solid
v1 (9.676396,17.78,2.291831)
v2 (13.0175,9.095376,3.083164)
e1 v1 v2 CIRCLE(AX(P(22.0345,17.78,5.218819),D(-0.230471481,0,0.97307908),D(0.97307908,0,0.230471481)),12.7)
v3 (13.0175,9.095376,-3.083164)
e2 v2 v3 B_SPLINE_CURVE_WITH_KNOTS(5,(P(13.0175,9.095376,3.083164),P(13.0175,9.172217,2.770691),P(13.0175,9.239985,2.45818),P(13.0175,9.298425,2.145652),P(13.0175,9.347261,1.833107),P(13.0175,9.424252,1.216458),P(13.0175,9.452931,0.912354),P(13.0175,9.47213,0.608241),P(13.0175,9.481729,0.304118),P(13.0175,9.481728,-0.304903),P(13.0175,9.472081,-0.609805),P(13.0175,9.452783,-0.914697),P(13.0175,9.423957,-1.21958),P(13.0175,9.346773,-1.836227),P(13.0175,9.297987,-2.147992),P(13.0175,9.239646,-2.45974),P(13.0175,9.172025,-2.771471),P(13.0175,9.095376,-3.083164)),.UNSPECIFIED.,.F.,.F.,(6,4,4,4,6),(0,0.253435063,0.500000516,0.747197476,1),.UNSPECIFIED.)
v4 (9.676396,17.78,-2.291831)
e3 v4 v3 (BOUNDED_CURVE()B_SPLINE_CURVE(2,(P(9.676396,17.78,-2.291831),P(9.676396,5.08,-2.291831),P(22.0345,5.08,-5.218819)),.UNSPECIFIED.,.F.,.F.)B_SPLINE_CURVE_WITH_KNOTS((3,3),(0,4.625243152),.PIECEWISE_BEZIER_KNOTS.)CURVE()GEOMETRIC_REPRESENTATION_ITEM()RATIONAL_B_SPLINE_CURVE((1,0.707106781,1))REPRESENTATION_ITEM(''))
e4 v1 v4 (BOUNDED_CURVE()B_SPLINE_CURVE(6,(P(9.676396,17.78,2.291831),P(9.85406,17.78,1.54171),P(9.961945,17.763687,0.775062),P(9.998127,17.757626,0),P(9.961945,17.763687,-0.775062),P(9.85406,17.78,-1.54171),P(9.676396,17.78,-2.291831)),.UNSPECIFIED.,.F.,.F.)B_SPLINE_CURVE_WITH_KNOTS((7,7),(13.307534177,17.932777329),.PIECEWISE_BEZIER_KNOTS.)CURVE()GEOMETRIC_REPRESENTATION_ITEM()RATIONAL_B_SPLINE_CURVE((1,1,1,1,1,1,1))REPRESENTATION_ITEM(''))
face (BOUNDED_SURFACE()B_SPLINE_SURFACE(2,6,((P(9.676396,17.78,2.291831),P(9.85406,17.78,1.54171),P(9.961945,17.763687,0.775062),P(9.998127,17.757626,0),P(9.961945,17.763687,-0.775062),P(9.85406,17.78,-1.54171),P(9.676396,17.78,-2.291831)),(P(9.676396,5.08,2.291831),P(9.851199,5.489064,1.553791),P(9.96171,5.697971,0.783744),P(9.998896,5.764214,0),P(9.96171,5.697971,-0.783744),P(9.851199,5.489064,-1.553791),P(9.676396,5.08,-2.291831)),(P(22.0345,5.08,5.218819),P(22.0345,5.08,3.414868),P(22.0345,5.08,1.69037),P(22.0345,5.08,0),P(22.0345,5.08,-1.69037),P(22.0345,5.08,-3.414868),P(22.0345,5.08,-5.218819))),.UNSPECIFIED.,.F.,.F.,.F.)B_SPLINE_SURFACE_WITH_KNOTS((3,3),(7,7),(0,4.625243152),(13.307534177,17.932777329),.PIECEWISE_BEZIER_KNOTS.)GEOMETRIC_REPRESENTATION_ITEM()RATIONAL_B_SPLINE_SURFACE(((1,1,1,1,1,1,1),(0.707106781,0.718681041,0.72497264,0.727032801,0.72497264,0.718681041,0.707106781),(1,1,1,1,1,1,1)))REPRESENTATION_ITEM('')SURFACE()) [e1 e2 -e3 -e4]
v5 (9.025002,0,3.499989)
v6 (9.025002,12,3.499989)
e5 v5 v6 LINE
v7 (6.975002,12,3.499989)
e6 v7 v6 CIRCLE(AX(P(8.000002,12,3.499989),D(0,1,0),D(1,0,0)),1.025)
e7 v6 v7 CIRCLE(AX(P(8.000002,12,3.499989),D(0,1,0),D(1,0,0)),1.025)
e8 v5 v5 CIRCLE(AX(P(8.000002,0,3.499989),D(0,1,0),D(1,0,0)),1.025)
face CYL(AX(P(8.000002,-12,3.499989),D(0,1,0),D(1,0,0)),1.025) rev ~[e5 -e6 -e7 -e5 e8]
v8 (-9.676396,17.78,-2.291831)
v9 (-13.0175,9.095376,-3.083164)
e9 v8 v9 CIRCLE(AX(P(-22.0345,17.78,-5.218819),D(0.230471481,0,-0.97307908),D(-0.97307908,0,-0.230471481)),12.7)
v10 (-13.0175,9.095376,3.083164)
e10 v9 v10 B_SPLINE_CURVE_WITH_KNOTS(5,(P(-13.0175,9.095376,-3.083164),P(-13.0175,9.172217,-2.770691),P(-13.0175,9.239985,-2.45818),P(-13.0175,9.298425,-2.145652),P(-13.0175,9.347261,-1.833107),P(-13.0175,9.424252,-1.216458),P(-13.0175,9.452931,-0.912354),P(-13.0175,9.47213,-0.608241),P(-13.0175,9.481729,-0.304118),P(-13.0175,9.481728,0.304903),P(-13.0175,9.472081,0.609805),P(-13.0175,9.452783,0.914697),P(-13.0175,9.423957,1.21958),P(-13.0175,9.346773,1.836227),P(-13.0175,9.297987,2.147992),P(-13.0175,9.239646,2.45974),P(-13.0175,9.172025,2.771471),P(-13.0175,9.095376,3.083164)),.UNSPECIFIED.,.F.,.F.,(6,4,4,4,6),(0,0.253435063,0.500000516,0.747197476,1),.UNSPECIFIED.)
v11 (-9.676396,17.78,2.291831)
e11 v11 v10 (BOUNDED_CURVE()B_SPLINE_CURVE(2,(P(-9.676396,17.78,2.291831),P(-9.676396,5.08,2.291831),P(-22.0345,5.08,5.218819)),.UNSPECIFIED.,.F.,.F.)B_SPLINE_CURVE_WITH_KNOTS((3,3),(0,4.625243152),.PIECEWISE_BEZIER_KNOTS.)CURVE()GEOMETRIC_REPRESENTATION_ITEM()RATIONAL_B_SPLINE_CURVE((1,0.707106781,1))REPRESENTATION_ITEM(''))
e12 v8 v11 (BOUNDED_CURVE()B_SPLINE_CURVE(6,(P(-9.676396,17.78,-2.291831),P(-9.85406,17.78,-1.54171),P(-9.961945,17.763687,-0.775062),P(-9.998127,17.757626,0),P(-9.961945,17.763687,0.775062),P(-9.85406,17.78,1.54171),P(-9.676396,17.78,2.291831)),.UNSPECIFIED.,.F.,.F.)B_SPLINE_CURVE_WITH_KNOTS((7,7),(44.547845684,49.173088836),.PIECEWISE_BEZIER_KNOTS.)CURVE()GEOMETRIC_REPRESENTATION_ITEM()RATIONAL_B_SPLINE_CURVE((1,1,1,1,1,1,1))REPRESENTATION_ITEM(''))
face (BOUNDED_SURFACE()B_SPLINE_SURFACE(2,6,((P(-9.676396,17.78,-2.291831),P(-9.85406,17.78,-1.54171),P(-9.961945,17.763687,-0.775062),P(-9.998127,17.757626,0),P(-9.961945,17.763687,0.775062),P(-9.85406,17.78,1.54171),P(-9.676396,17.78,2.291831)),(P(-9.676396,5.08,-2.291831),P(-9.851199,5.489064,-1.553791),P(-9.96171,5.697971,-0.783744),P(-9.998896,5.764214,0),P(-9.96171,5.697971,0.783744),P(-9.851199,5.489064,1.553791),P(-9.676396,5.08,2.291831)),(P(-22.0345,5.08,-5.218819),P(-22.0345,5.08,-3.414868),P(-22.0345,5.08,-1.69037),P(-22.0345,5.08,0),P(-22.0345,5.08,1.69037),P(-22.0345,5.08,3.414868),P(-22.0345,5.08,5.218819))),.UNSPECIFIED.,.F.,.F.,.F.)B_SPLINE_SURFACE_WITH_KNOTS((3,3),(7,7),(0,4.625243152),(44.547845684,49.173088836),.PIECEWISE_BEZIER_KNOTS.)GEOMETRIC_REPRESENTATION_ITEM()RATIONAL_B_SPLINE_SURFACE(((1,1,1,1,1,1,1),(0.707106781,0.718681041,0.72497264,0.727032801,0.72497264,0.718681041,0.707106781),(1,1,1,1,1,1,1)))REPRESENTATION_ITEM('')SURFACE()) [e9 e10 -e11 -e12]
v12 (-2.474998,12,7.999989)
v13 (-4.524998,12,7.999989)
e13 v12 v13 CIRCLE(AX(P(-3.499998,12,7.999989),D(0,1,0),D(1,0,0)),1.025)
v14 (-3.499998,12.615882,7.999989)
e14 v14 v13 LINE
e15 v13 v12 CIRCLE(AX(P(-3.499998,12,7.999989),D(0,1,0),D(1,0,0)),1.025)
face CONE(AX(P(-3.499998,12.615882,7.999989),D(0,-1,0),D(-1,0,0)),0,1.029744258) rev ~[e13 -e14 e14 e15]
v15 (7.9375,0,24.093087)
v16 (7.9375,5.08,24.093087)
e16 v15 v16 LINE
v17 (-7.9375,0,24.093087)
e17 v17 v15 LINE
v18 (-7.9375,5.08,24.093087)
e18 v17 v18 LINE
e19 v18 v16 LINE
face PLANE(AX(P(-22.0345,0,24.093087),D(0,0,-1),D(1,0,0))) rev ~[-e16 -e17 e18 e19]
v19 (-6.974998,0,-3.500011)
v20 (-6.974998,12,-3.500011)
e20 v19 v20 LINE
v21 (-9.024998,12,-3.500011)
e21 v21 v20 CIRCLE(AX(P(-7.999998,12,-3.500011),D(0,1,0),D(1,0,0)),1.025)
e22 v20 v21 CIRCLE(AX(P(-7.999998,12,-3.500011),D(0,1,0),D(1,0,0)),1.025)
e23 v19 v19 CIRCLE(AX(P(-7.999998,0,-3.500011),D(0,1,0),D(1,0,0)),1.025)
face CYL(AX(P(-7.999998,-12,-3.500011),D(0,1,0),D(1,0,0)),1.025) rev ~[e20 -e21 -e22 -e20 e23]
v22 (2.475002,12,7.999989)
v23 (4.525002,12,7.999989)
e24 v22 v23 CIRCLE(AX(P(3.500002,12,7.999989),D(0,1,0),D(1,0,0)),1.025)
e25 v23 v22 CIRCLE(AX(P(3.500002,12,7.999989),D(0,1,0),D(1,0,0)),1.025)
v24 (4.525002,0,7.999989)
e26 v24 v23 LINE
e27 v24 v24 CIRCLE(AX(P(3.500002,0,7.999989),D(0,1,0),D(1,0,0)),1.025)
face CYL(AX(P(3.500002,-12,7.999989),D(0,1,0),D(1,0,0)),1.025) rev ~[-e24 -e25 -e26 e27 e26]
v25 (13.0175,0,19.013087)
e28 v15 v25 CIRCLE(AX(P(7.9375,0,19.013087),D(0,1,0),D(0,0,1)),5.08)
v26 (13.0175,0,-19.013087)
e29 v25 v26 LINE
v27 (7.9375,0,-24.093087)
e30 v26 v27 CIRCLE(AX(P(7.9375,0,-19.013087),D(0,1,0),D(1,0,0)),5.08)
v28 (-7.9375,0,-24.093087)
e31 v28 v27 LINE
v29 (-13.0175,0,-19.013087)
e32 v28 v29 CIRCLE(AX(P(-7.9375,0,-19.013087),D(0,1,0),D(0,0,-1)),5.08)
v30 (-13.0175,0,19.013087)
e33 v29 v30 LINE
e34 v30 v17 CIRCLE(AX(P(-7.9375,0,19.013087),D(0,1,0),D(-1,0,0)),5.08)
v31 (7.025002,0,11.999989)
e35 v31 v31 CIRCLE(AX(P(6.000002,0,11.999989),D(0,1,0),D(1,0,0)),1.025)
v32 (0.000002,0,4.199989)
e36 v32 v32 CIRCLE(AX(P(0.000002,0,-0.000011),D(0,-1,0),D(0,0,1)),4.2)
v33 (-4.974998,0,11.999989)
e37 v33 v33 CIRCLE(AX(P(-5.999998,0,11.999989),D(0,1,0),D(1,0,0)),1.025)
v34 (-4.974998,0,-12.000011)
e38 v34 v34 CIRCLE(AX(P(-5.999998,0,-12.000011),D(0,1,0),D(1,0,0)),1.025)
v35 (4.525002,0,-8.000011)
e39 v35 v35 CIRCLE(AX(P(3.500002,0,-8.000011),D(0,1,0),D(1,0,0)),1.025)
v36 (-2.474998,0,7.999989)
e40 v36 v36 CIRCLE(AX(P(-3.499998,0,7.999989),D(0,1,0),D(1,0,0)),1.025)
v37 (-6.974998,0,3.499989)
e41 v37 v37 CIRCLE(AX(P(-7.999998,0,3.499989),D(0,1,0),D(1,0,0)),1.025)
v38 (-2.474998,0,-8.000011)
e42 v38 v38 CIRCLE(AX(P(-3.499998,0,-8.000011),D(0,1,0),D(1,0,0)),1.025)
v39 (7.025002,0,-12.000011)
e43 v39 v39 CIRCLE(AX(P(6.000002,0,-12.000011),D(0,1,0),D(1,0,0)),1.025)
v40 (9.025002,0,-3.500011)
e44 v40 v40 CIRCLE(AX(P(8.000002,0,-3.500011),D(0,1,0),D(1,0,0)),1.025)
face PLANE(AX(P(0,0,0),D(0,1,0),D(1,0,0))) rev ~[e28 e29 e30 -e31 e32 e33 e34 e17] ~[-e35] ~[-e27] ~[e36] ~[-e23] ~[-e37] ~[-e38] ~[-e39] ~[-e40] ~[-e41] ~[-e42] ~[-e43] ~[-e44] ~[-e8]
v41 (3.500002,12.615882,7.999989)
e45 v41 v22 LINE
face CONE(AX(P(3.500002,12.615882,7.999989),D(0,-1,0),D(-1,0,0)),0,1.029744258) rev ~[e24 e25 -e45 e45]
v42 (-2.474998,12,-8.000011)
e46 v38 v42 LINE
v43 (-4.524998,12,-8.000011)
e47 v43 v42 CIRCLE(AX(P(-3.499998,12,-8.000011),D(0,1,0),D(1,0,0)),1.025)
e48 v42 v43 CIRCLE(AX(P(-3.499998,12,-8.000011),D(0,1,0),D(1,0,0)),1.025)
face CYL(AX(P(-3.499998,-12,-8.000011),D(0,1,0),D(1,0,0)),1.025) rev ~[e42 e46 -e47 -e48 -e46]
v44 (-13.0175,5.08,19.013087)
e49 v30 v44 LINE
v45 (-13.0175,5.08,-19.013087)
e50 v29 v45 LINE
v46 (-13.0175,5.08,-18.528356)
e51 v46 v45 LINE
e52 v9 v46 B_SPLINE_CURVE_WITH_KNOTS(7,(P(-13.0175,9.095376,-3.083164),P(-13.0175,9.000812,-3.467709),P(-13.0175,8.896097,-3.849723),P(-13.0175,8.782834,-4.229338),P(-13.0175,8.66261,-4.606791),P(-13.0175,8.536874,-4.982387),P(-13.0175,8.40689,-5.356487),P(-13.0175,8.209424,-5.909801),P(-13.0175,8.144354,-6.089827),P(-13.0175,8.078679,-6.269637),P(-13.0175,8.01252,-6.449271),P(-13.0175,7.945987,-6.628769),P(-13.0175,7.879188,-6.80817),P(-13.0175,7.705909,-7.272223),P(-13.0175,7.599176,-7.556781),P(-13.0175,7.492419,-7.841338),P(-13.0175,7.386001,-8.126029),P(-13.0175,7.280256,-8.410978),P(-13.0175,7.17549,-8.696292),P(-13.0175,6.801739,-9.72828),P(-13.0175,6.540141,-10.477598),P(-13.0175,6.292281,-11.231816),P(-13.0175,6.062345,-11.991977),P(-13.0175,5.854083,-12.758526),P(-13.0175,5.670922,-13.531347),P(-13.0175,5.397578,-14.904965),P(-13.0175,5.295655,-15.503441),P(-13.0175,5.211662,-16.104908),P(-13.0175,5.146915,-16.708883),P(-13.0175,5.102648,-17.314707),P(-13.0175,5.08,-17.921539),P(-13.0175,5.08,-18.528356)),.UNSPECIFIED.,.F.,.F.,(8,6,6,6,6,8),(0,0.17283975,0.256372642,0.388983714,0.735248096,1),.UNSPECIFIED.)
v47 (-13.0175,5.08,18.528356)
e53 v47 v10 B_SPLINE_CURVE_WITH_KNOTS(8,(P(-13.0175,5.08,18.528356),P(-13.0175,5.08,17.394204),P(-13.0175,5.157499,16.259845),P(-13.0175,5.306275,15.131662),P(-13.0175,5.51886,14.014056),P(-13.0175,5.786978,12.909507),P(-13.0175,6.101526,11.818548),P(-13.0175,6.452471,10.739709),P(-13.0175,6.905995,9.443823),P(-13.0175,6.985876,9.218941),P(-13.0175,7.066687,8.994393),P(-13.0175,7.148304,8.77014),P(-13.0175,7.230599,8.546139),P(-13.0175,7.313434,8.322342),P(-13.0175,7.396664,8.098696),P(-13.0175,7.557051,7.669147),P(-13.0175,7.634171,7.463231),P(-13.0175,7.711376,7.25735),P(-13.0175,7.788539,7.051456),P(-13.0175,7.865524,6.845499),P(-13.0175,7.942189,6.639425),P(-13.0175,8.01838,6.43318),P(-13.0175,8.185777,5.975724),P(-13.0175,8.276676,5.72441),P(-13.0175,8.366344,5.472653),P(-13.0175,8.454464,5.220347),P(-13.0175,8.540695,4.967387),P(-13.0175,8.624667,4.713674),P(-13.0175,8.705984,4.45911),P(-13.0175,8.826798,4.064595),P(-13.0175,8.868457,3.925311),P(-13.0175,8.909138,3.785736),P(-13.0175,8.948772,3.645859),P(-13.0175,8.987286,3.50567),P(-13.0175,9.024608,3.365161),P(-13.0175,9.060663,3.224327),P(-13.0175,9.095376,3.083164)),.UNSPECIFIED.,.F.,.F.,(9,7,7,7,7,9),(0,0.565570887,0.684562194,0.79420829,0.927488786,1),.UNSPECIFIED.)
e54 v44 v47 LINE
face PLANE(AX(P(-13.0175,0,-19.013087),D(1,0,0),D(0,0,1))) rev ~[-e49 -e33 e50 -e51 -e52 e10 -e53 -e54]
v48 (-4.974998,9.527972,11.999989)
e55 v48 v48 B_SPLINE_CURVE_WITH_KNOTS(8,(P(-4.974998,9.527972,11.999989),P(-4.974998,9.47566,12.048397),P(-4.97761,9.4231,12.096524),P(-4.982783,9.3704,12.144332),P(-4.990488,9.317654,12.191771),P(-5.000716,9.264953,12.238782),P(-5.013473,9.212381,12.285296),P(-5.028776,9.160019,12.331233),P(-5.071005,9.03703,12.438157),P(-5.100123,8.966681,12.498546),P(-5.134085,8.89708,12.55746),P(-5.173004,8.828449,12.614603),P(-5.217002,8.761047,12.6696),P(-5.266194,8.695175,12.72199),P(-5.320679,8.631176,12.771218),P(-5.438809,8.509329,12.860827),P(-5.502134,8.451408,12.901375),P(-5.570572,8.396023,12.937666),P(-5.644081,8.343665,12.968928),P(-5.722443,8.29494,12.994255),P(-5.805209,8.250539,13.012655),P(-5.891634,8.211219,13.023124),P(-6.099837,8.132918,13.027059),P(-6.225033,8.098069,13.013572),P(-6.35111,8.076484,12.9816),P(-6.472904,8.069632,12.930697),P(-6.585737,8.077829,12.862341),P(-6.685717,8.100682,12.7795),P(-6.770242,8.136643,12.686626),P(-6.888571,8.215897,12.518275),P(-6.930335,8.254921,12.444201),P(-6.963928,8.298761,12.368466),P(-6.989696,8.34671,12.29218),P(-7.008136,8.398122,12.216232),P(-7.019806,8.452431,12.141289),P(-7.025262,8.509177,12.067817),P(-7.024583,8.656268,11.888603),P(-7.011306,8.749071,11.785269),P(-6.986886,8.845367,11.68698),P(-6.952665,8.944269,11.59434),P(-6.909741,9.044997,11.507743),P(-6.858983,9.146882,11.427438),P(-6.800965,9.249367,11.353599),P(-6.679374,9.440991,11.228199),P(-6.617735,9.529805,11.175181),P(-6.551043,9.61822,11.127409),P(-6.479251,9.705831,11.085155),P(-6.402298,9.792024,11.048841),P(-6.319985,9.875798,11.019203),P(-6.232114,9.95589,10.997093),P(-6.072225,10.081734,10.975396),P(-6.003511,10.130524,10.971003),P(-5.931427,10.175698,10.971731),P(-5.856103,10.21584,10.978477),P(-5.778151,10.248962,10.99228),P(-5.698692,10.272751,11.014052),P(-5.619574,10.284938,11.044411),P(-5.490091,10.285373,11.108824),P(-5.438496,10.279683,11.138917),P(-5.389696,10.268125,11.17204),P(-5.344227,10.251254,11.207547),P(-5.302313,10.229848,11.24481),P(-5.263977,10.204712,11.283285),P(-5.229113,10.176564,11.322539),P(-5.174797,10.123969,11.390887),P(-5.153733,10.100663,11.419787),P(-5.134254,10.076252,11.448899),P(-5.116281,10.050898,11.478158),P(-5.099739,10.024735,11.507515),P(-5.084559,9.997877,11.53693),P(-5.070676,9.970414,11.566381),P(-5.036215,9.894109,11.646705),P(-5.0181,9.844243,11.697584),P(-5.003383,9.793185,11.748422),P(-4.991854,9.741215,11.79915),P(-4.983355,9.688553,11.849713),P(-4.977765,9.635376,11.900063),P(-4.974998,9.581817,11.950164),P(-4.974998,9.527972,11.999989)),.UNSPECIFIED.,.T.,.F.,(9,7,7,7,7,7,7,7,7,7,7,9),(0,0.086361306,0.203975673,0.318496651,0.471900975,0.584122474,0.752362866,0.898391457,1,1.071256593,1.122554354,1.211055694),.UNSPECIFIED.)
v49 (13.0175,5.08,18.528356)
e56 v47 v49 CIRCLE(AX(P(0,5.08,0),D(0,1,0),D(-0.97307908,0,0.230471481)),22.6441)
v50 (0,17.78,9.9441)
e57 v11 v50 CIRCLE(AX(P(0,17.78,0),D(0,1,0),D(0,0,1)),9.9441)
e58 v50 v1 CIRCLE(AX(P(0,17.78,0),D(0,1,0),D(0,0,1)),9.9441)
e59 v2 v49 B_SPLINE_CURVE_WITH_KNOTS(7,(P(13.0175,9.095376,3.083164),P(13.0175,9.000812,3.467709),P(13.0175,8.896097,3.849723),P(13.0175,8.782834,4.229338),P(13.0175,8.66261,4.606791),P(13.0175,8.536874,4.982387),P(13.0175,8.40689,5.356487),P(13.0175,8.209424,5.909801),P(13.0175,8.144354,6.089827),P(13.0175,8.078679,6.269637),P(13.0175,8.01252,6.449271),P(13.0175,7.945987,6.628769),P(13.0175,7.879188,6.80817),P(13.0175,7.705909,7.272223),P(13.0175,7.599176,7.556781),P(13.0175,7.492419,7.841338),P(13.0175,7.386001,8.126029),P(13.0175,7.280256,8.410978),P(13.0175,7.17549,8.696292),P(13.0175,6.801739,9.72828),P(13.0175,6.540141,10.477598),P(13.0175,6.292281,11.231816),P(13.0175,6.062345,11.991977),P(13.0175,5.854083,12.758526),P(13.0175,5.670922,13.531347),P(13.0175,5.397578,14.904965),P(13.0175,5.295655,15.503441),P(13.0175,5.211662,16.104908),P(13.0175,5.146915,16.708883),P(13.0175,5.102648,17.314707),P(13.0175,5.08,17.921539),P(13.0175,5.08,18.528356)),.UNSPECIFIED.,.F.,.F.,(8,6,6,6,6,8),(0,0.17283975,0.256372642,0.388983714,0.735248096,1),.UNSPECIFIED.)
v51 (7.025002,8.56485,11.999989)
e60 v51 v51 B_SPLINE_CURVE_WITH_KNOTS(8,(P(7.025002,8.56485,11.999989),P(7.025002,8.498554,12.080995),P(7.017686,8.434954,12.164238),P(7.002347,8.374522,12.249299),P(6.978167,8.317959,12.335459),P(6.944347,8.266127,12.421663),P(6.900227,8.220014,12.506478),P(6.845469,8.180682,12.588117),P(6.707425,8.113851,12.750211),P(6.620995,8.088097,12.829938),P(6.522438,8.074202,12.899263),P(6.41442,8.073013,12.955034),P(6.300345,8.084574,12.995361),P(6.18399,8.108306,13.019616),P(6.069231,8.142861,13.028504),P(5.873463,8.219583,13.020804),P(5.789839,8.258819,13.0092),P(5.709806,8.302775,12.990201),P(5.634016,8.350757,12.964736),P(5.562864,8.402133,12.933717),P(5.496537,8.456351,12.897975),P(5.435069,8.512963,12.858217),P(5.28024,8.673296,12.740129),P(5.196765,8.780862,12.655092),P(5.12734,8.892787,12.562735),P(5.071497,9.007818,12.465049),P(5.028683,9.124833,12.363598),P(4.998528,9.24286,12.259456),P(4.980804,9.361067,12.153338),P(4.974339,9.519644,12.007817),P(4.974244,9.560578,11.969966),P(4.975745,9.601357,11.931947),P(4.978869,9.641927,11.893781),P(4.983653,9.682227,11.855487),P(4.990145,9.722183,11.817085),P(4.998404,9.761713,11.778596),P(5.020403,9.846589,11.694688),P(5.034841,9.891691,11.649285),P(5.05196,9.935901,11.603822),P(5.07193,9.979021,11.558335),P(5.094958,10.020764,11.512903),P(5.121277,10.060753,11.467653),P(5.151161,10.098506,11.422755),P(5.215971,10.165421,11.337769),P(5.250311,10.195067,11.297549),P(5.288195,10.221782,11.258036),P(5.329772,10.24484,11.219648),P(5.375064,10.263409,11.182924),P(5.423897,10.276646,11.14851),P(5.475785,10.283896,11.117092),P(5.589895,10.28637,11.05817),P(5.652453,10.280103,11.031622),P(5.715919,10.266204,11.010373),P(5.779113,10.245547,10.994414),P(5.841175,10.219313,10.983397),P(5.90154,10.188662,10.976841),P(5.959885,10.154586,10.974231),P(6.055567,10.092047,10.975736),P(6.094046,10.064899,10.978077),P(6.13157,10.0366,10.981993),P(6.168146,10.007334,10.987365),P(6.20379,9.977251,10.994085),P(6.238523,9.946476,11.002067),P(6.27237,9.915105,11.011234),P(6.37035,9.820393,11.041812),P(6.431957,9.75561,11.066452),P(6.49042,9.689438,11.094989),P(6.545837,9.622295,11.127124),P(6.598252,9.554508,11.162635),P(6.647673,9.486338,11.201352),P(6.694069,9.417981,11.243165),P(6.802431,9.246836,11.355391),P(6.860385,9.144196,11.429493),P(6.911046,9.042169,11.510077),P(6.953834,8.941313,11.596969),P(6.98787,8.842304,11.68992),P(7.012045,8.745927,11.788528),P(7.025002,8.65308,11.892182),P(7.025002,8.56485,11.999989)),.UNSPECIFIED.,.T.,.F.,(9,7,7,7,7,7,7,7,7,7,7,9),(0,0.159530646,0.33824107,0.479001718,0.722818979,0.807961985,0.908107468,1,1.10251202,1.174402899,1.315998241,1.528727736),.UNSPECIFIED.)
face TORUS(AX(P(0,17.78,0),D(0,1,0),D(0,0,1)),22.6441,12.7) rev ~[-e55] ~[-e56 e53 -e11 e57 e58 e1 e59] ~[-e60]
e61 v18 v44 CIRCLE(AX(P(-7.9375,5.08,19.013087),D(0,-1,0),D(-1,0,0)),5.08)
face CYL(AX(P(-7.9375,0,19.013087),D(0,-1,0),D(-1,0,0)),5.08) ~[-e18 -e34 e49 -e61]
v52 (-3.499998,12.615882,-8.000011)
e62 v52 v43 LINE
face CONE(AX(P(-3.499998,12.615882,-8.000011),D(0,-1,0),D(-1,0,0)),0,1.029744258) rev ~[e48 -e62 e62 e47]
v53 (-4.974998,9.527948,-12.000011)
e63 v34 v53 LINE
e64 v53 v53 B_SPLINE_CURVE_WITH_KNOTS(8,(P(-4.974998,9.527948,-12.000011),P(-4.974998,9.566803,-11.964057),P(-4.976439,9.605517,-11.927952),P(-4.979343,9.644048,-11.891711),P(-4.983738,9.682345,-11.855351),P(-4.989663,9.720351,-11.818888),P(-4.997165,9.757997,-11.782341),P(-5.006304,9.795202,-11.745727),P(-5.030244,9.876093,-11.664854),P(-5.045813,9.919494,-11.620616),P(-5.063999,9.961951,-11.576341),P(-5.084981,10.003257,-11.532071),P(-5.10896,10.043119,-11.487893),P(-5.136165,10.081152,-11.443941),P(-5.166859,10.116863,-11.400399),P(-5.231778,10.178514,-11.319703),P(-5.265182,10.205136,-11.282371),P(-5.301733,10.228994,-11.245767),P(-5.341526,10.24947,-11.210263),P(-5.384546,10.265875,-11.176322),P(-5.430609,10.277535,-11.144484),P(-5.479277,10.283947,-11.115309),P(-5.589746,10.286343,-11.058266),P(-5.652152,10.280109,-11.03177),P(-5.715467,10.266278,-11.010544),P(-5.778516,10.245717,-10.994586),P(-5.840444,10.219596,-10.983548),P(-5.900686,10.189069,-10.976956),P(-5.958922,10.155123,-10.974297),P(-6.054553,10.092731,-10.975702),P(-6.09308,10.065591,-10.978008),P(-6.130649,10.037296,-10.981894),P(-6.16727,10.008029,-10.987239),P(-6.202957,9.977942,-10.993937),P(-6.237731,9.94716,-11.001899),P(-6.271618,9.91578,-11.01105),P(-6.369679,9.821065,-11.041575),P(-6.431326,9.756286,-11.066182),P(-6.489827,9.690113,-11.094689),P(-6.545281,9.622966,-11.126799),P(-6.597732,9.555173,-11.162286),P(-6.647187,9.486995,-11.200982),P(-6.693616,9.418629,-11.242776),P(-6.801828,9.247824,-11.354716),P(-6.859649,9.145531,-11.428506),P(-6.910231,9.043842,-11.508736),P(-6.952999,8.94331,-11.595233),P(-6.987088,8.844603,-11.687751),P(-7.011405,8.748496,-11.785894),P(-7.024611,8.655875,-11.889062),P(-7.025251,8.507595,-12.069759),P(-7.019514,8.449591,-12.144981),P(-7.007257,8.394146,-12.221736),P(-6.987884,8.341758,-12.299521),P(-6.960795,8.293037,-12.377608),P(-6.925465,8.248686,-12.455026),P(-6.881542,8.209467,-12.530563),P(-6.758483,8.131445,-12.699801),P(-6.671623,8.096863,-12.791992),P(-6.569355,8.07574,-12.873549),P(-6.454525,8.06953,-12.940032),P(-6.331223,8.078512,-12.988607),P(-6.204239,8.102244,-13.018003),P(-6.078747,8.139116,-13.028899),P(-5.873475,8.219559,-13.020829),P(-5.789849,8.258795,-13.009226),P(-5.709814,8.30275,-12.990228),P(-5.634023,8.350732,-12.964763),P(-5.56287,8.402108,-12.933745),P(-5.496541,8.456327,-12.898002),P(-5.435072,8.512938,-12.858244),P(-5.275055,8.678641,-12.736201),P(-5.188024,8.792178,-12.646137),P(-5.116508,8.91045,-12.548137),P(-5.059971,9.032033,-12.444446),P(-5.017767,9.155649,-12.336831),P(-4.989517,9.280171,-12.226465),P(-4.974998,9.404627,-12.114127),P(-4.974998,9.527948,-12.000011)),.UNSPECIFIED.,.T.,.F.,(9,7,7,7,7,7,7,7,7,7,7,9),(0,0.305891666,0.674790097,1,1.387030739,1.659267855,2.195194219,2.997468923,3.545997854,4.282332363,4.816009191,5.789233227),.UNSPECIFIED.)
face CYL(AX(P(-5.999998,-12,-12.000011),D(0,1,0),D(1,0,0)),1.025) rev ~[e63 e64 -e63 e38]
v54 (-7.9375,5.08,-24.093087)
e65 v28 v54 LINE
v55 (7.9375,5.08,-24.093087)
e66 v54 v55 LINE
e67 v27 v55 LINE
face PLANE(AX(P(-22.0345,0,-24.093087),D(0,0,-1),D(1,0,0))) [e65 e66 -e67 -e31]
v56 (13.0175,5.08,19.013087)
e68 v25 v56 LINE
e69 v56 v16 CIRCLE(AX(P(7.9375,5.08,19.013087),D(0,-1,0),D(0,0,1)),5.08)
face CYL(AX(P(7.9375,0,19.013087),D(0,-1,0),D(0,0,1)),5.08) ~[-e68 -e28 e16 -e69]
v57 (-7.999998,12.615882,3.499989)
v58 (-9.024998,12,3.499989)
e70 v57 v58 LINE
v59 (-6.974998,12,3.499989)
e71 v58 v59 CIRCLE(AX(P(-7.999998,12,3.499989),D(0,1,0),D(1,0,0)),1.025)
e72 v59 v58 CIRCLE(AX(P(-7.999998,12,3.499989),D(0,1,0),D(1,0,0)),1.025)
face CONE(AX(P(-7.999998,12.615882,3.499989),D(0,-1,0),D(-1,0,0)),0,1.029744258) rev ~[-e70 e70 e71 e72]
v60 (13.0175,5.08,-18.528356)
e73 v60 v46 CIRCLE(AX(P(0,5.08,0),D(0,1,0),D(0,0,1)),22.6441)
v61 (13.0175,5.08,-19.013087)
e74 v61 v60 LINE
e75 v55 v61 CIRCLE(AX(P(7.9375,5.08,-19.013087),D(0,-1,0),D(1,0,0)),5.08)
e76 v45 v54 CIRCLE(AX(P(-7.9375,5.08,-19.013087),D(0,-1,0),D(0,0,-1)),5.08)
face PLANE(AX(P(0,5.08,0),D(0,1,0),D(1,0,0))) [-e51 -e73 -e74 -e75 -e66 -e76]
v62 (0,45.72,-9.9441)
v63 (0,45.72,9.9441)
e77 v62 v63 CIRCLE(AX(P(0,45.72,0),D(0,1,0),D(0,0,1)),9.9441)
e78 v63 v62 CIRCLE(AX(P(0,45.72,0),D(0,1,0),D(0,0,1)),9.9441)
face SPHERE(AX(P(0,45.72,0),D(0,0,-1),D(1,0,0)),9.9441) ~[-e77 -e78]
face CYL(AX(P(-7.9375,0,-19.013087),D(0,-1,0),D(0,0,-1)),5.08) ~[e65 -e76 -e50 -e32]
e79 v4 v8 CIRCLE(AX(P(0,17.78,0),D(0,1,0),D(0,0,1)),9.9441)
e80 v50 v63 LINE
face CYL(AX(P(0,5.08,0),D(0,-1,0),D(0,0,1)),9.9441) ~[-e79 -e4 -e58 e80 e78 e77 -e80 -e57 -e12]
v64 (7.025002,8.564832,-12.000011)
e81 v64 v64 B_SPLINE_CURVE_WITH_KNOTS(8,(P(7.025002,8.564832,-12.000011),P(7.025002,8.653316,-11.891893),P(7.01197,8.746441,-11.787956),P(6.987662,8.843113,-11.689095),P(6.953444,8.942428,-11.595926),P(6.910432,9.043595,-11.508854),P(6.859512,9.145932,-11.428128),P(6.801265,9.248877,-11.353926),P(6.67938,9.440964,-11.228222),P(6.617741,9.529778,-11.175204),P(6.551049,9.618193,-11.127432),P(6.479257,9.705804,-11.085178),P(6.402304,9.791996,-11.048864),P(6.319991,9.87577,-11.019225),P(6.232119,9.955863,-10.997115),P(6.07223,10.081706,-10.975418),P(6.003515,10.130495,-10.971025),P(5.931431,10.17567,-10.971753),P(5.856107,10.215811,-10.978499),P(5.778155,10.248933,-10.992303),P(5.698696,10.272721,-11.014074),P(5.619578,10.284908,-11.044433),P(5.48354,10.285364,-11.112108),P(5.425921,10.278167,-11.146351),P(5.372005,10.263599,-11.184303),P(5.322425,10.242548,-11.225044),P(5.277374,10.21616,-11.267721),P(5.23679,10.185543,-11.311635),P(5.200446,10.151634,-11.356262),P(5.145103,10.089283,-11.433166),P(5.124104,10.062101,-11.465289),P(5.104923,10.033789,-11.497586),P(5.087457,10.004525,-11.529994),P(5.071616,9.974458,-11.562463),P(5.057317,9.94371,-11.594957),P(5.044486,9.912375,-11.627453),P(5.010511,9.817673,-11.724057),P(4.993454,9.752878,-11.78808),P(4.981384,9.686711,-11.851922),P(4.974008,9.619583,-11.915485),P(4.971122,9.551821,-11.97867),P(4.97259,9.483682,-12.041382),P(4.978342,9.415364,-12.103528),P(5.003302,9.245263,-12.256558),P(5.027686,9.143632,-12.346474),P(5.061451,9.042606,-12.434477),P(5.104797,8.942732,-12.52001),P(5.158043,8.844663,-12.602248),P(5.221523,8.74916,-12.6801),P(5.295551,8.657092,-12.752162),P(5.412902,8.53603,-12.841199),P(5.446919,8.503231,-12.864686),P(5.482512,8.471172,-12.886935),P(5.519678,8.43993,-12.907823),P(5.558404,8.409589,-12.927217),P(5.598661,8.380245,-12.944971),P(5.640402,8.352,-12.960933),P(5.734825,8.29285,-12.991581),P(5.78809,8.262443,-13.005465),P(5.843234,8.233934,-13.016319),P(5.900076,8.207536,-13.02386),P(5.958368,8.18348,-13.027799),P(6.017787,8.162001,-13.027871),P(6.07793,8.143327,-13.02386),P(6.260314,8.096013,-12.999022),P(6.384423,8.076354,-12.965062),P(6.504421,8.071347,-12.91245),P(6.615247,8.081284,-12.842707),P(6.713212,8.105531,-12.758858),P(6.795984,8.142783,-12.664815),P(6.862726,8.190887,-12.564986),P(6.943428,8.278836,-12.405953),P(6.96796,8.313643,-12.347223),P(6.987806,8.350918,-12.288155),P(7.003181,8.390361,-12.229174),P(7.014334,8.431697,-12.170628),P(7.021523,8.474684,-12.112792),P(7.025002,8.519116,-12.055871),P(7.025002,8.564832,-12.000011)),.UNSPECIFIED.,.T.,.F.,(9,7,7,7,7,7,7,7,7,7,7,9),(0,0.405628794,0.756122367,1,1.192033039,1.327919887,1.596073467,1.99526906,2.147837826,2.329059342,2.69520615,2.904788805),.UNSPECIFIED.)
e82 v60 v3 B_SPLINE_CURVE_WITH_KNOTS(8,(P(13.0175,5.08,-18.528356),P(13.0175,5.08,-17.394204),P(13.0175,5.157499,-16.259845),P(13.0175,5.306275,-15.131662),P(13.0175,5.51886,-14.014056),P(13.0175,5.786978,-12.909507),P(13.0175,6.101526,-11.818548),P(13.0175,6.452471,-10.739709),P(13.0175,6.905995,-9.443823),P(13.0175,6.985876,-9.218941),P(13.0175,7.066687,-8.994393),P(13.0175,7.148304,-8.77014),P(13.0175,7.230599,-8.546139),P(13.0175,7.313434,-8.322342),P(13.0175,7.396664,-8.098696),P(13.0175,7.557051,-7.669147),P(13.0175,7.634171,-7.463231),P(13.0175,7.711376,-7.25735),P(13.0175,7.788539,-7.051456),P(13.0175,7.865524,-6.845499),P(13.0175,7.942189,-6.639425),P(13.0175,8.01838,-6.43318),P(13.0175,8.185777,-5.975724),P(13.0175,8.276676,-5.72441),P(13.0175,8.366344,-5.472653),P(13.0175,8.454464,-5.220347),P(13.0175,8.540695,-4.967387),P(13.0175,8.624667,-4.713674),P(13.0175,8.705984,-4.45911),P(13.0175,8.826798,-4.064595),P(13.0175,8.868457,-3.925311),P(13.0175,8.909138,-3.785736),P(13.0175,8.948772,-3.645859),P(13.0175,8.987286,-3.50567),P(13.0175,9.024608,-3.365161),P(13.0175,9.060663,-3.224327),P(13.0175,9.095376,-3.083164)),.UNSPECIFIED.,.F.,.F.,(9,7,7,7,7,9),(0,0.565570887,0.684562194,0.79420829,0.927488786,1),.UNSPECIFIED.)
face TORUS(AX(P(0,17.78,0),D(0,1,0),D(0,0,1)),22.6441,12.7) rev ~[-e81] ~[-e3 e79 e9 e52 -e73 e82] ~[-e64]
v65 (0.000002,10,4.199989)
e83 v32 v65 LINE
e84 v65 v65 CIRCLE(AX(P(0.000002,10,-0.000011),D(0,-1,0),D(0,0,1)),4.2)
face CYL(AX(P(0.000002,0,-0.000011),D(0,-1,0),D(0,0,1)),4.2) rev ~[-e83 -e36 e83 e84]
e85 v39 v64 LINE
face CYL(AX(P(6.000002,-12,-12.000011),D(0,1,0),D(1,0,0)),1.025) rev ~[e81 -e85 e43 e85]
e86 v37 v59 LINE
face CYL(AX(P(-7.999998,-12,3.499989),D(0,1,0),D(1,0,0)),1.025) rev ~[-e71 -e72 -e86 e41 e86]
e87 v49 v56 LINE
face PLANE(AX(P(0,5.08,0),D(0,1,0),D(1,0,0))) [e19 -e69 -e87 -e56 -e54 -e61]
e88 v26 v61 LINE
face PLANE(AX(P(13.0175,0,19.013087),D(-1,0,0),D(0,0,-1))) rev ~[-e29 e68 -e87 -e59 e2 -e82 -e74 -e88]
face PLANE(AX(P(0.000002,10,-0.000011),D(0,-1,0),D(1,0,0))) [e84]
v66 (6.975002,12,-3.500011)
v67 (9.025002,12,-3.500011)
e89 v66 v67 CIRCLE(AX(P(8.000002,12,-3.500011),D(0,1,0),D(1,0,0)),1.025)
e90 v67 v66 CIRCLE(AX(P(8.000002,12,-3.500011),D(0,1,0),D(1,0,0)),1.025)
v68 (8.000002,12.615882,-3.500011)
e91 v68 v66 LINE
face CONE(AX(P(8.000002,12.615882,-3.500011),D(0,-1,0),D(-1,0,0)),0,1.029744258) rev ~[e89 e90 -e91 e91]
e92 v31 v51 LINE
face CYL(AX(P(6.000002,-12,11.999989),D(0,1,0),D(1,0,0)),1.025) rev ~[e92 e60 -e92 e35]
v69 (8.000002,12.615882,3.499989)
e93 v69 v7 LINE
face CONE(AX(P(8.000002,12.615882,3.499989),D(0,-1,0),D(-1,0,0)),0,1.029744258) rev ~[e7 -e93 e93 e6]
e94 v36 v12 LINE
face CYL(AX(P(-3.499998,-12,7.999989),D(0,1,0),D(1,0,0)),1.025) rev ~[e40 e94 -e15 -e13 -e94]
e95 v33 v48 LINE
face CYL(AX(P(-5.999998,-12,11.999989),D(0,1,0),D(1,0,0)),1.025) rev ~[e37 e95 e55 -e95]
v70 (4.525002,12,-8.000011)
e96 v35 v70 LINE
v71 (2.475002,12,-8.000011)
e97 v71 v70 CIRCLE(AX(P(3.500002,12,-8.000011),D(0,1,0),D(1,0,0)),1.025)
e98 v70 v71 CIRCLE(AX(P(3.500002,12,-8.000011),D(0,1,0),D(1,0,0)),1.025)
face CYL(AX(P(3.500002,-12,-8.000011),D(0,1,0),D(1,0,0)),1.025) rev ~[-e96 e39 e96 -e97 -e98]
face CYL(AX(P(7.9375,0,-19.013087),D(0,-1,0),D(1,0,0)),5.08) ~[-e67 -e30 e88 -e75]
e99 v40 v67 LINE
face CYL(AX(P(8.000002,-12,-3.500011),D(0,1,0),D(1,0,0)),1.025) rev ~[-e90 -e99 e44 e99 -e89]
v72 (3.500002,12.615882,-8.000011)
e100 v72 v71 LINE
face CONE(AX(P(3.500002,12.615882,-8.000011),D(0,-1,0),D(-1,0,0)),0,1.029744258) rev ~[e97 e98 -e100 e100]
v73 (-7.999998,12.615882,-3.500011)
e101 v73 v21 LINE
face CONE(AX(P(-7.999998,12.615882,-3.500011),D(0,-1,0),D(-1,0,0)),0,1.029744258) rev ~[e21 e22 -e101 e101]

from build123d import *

# Parameters (mm, degrees)
SKETCH1_W                    = 44.069
SKETCH1_H                    = 48.18617301
BOSS_EXTRUDE1_DEPTH          = 5.08
SKETCH2_R                    = 9.9441
BOSS_EXTRUDE2_DEPTH          = 40.64
REVOLVE1_ANGLE               = 180
FILLET1_R                    = 12.7
CUT_EXTRUDE1_DEPTH           = 65.532844704
M2_5X0_45_TAPPED_HOLE1_D     = 2.05
M2_5X0_45_TAPPED_HOLE1_DEPTH = 12
M2_5X0_45_TAPPED_HOLE1_TIP   = 0.615882135
CUT_EXTRUDE2_DEPTH           = 10


with BuildPart() as part:
    # Sketch1 → Boss-Extrude1 (new body)
    with BuildSketch(Plane(origin=(0, 0, 0), x_dir=(1, 0, 0), z_dir=(0, 1, 0))):
        Rectangle(SKETCH1_W, SKETCH1_H)
    extrude(amount=BOSS_EXTRUDE1_DEPTH)

    # Sketch2 → Boss-Extrude2 (add)
    with BuildSketch(Plane(origin=(0, 5.08, 0), x_dir=(1, 0, 0), z_dir=(0, 1, 0))):
        with Locations(Location((0, 0, 0), (0, 0, 270))):
            Circle(SKETCH2_R)
    extrude(amount=BOSS_EXTRUDE2_DEPTH)

    # Sketch3 → Revolve1 (revolve)
    with BuildSketch(Plane(origin=(0, 45.72, 0), x_dir=(1, 0, 0), z_dir=(0, 1, 0))):
        with BuildLine():
            Line((0, 9.9441), (0, -9.9441))
            ThreePointArc((0, -9.9441), (9.9441, 0), (0, 9.9441))
        make_face()
    revolve(axis=Axis((0, 45.72, -9.9441), (0, 0, 1)), revolution_arc=REVOLVE1_ANGLE)

    # Fillet1
    fillet1_edges = [part.edges().sort_by_distance(p)[0] for p in [
        (0, 5.08, -9.9441),
    ]]
    fillet(fillet1_edges, radius=FILLET1_R)

    # Sketch4 → Cut-Extrude1 (cut, through all)
    with BuildSketch(Plane.XZ):
        with BuildLine():
            Line((-22.0345, -24.093086505), (-7.9375, -24.093086505))
            ThreePointArc((-7.9375, -24.093086505), (-11.529602448, -22.605188954), (-13.0175, -19.013086505))
            Line((-13.0175, -19.013086505), (-13.0175, 19.013086505))
            ThreePointArc((-13.0175, 19.013086505), (-11.529602448, 22.605188954), (-7.9375, 24.093086505))
            Line((-7.9375, 24.093086505), (-22.0345, 24.093086505))
            Line((-22.0345, 24.093086505), (-22.0345, -24.093086505))
        make_face()
        with BuildLine():
            ThreePointArc((13.0175, -19.013086505), (11.529602448, -22.605188954), (7.9375, -24.093086505))
            Line((7.9375, -24.093086505), (22.0345, -24.093086505))
            Line((22.0345, -24.093086505), (22.0345, 24.093086505))
            Line((22.0345, 24.093086505), (7.9375, 24.093086505))
            ThreePointArc((7.9375, 24.093086505), (11.529602448, 22.605188954), (13.0175, 19.013086505))
            Line((13.0175, 19.013086505), (13.0175, -19.013086505))
        make_face()
    extrude(amount=-CUT_EXTRUDE1_DEPTH, mode=Mode.SUBTRACT)

    # M2.5x0.45 Tapped Hole1
    with Locations(Plane(origin=(0, 0, 0), x_dir=(-1, 0, 0), z_dir=(0, -1, 0))):
        with Locations((-6.00000248, -11.999988915), (-3.50000248, -7.999988915), (-8.00000248, -3.499988915), (-8.00000248, 3.500011085), (-3.50000248, 8.000011085), (-6.00000248, 12.000011085), (3.49999752, 8.000011085), (5.99999752, 12.000011085), (7.99999752, 3.500011085), (7.99999752, -3.499988915), (3.49999752, -7.999988915), (5.99999752, -11.999988915)):
            Hole(M2_5X0_45_TAPPED_HOLE1_D / 2, depth=M2_5X0_45_TAPPED_HOLE1_DEPTH)
            with Locations((0, 0, -(M2_5X0_45_TAPPED_HOLE1_DEPTH + M2_5X0_45_TAPPED_HOLE1_TIP / 2))):  # 118° drill point
                Cone(0, M2_5X0_45_TAPPED_HOLE1_D / 2, M2_5X0_45_TAPPED_HOLE1_TIP, mode=Mode.SUBTRACT)

    # Sketch5 → Cut-Extrude2 (cut)
    with BuildSketch(Plane.XZ):
        with BuildLine():
            ThreePointArc((2.48e-06, -4.200011085), (4.20000248, -1.1085e-05), (2.48e-06, 4.199988915))
            ThreePointArc((2.48e-06, 4.199988915), (-4.19999752, -1.1085e-05), (2.48e-06, -4.200011085))
        make_face()
    extrude(amount=-CUT_EXTRUDE2_DEPTH, mode=Mode.SUBTRACT)


solid = part.part
